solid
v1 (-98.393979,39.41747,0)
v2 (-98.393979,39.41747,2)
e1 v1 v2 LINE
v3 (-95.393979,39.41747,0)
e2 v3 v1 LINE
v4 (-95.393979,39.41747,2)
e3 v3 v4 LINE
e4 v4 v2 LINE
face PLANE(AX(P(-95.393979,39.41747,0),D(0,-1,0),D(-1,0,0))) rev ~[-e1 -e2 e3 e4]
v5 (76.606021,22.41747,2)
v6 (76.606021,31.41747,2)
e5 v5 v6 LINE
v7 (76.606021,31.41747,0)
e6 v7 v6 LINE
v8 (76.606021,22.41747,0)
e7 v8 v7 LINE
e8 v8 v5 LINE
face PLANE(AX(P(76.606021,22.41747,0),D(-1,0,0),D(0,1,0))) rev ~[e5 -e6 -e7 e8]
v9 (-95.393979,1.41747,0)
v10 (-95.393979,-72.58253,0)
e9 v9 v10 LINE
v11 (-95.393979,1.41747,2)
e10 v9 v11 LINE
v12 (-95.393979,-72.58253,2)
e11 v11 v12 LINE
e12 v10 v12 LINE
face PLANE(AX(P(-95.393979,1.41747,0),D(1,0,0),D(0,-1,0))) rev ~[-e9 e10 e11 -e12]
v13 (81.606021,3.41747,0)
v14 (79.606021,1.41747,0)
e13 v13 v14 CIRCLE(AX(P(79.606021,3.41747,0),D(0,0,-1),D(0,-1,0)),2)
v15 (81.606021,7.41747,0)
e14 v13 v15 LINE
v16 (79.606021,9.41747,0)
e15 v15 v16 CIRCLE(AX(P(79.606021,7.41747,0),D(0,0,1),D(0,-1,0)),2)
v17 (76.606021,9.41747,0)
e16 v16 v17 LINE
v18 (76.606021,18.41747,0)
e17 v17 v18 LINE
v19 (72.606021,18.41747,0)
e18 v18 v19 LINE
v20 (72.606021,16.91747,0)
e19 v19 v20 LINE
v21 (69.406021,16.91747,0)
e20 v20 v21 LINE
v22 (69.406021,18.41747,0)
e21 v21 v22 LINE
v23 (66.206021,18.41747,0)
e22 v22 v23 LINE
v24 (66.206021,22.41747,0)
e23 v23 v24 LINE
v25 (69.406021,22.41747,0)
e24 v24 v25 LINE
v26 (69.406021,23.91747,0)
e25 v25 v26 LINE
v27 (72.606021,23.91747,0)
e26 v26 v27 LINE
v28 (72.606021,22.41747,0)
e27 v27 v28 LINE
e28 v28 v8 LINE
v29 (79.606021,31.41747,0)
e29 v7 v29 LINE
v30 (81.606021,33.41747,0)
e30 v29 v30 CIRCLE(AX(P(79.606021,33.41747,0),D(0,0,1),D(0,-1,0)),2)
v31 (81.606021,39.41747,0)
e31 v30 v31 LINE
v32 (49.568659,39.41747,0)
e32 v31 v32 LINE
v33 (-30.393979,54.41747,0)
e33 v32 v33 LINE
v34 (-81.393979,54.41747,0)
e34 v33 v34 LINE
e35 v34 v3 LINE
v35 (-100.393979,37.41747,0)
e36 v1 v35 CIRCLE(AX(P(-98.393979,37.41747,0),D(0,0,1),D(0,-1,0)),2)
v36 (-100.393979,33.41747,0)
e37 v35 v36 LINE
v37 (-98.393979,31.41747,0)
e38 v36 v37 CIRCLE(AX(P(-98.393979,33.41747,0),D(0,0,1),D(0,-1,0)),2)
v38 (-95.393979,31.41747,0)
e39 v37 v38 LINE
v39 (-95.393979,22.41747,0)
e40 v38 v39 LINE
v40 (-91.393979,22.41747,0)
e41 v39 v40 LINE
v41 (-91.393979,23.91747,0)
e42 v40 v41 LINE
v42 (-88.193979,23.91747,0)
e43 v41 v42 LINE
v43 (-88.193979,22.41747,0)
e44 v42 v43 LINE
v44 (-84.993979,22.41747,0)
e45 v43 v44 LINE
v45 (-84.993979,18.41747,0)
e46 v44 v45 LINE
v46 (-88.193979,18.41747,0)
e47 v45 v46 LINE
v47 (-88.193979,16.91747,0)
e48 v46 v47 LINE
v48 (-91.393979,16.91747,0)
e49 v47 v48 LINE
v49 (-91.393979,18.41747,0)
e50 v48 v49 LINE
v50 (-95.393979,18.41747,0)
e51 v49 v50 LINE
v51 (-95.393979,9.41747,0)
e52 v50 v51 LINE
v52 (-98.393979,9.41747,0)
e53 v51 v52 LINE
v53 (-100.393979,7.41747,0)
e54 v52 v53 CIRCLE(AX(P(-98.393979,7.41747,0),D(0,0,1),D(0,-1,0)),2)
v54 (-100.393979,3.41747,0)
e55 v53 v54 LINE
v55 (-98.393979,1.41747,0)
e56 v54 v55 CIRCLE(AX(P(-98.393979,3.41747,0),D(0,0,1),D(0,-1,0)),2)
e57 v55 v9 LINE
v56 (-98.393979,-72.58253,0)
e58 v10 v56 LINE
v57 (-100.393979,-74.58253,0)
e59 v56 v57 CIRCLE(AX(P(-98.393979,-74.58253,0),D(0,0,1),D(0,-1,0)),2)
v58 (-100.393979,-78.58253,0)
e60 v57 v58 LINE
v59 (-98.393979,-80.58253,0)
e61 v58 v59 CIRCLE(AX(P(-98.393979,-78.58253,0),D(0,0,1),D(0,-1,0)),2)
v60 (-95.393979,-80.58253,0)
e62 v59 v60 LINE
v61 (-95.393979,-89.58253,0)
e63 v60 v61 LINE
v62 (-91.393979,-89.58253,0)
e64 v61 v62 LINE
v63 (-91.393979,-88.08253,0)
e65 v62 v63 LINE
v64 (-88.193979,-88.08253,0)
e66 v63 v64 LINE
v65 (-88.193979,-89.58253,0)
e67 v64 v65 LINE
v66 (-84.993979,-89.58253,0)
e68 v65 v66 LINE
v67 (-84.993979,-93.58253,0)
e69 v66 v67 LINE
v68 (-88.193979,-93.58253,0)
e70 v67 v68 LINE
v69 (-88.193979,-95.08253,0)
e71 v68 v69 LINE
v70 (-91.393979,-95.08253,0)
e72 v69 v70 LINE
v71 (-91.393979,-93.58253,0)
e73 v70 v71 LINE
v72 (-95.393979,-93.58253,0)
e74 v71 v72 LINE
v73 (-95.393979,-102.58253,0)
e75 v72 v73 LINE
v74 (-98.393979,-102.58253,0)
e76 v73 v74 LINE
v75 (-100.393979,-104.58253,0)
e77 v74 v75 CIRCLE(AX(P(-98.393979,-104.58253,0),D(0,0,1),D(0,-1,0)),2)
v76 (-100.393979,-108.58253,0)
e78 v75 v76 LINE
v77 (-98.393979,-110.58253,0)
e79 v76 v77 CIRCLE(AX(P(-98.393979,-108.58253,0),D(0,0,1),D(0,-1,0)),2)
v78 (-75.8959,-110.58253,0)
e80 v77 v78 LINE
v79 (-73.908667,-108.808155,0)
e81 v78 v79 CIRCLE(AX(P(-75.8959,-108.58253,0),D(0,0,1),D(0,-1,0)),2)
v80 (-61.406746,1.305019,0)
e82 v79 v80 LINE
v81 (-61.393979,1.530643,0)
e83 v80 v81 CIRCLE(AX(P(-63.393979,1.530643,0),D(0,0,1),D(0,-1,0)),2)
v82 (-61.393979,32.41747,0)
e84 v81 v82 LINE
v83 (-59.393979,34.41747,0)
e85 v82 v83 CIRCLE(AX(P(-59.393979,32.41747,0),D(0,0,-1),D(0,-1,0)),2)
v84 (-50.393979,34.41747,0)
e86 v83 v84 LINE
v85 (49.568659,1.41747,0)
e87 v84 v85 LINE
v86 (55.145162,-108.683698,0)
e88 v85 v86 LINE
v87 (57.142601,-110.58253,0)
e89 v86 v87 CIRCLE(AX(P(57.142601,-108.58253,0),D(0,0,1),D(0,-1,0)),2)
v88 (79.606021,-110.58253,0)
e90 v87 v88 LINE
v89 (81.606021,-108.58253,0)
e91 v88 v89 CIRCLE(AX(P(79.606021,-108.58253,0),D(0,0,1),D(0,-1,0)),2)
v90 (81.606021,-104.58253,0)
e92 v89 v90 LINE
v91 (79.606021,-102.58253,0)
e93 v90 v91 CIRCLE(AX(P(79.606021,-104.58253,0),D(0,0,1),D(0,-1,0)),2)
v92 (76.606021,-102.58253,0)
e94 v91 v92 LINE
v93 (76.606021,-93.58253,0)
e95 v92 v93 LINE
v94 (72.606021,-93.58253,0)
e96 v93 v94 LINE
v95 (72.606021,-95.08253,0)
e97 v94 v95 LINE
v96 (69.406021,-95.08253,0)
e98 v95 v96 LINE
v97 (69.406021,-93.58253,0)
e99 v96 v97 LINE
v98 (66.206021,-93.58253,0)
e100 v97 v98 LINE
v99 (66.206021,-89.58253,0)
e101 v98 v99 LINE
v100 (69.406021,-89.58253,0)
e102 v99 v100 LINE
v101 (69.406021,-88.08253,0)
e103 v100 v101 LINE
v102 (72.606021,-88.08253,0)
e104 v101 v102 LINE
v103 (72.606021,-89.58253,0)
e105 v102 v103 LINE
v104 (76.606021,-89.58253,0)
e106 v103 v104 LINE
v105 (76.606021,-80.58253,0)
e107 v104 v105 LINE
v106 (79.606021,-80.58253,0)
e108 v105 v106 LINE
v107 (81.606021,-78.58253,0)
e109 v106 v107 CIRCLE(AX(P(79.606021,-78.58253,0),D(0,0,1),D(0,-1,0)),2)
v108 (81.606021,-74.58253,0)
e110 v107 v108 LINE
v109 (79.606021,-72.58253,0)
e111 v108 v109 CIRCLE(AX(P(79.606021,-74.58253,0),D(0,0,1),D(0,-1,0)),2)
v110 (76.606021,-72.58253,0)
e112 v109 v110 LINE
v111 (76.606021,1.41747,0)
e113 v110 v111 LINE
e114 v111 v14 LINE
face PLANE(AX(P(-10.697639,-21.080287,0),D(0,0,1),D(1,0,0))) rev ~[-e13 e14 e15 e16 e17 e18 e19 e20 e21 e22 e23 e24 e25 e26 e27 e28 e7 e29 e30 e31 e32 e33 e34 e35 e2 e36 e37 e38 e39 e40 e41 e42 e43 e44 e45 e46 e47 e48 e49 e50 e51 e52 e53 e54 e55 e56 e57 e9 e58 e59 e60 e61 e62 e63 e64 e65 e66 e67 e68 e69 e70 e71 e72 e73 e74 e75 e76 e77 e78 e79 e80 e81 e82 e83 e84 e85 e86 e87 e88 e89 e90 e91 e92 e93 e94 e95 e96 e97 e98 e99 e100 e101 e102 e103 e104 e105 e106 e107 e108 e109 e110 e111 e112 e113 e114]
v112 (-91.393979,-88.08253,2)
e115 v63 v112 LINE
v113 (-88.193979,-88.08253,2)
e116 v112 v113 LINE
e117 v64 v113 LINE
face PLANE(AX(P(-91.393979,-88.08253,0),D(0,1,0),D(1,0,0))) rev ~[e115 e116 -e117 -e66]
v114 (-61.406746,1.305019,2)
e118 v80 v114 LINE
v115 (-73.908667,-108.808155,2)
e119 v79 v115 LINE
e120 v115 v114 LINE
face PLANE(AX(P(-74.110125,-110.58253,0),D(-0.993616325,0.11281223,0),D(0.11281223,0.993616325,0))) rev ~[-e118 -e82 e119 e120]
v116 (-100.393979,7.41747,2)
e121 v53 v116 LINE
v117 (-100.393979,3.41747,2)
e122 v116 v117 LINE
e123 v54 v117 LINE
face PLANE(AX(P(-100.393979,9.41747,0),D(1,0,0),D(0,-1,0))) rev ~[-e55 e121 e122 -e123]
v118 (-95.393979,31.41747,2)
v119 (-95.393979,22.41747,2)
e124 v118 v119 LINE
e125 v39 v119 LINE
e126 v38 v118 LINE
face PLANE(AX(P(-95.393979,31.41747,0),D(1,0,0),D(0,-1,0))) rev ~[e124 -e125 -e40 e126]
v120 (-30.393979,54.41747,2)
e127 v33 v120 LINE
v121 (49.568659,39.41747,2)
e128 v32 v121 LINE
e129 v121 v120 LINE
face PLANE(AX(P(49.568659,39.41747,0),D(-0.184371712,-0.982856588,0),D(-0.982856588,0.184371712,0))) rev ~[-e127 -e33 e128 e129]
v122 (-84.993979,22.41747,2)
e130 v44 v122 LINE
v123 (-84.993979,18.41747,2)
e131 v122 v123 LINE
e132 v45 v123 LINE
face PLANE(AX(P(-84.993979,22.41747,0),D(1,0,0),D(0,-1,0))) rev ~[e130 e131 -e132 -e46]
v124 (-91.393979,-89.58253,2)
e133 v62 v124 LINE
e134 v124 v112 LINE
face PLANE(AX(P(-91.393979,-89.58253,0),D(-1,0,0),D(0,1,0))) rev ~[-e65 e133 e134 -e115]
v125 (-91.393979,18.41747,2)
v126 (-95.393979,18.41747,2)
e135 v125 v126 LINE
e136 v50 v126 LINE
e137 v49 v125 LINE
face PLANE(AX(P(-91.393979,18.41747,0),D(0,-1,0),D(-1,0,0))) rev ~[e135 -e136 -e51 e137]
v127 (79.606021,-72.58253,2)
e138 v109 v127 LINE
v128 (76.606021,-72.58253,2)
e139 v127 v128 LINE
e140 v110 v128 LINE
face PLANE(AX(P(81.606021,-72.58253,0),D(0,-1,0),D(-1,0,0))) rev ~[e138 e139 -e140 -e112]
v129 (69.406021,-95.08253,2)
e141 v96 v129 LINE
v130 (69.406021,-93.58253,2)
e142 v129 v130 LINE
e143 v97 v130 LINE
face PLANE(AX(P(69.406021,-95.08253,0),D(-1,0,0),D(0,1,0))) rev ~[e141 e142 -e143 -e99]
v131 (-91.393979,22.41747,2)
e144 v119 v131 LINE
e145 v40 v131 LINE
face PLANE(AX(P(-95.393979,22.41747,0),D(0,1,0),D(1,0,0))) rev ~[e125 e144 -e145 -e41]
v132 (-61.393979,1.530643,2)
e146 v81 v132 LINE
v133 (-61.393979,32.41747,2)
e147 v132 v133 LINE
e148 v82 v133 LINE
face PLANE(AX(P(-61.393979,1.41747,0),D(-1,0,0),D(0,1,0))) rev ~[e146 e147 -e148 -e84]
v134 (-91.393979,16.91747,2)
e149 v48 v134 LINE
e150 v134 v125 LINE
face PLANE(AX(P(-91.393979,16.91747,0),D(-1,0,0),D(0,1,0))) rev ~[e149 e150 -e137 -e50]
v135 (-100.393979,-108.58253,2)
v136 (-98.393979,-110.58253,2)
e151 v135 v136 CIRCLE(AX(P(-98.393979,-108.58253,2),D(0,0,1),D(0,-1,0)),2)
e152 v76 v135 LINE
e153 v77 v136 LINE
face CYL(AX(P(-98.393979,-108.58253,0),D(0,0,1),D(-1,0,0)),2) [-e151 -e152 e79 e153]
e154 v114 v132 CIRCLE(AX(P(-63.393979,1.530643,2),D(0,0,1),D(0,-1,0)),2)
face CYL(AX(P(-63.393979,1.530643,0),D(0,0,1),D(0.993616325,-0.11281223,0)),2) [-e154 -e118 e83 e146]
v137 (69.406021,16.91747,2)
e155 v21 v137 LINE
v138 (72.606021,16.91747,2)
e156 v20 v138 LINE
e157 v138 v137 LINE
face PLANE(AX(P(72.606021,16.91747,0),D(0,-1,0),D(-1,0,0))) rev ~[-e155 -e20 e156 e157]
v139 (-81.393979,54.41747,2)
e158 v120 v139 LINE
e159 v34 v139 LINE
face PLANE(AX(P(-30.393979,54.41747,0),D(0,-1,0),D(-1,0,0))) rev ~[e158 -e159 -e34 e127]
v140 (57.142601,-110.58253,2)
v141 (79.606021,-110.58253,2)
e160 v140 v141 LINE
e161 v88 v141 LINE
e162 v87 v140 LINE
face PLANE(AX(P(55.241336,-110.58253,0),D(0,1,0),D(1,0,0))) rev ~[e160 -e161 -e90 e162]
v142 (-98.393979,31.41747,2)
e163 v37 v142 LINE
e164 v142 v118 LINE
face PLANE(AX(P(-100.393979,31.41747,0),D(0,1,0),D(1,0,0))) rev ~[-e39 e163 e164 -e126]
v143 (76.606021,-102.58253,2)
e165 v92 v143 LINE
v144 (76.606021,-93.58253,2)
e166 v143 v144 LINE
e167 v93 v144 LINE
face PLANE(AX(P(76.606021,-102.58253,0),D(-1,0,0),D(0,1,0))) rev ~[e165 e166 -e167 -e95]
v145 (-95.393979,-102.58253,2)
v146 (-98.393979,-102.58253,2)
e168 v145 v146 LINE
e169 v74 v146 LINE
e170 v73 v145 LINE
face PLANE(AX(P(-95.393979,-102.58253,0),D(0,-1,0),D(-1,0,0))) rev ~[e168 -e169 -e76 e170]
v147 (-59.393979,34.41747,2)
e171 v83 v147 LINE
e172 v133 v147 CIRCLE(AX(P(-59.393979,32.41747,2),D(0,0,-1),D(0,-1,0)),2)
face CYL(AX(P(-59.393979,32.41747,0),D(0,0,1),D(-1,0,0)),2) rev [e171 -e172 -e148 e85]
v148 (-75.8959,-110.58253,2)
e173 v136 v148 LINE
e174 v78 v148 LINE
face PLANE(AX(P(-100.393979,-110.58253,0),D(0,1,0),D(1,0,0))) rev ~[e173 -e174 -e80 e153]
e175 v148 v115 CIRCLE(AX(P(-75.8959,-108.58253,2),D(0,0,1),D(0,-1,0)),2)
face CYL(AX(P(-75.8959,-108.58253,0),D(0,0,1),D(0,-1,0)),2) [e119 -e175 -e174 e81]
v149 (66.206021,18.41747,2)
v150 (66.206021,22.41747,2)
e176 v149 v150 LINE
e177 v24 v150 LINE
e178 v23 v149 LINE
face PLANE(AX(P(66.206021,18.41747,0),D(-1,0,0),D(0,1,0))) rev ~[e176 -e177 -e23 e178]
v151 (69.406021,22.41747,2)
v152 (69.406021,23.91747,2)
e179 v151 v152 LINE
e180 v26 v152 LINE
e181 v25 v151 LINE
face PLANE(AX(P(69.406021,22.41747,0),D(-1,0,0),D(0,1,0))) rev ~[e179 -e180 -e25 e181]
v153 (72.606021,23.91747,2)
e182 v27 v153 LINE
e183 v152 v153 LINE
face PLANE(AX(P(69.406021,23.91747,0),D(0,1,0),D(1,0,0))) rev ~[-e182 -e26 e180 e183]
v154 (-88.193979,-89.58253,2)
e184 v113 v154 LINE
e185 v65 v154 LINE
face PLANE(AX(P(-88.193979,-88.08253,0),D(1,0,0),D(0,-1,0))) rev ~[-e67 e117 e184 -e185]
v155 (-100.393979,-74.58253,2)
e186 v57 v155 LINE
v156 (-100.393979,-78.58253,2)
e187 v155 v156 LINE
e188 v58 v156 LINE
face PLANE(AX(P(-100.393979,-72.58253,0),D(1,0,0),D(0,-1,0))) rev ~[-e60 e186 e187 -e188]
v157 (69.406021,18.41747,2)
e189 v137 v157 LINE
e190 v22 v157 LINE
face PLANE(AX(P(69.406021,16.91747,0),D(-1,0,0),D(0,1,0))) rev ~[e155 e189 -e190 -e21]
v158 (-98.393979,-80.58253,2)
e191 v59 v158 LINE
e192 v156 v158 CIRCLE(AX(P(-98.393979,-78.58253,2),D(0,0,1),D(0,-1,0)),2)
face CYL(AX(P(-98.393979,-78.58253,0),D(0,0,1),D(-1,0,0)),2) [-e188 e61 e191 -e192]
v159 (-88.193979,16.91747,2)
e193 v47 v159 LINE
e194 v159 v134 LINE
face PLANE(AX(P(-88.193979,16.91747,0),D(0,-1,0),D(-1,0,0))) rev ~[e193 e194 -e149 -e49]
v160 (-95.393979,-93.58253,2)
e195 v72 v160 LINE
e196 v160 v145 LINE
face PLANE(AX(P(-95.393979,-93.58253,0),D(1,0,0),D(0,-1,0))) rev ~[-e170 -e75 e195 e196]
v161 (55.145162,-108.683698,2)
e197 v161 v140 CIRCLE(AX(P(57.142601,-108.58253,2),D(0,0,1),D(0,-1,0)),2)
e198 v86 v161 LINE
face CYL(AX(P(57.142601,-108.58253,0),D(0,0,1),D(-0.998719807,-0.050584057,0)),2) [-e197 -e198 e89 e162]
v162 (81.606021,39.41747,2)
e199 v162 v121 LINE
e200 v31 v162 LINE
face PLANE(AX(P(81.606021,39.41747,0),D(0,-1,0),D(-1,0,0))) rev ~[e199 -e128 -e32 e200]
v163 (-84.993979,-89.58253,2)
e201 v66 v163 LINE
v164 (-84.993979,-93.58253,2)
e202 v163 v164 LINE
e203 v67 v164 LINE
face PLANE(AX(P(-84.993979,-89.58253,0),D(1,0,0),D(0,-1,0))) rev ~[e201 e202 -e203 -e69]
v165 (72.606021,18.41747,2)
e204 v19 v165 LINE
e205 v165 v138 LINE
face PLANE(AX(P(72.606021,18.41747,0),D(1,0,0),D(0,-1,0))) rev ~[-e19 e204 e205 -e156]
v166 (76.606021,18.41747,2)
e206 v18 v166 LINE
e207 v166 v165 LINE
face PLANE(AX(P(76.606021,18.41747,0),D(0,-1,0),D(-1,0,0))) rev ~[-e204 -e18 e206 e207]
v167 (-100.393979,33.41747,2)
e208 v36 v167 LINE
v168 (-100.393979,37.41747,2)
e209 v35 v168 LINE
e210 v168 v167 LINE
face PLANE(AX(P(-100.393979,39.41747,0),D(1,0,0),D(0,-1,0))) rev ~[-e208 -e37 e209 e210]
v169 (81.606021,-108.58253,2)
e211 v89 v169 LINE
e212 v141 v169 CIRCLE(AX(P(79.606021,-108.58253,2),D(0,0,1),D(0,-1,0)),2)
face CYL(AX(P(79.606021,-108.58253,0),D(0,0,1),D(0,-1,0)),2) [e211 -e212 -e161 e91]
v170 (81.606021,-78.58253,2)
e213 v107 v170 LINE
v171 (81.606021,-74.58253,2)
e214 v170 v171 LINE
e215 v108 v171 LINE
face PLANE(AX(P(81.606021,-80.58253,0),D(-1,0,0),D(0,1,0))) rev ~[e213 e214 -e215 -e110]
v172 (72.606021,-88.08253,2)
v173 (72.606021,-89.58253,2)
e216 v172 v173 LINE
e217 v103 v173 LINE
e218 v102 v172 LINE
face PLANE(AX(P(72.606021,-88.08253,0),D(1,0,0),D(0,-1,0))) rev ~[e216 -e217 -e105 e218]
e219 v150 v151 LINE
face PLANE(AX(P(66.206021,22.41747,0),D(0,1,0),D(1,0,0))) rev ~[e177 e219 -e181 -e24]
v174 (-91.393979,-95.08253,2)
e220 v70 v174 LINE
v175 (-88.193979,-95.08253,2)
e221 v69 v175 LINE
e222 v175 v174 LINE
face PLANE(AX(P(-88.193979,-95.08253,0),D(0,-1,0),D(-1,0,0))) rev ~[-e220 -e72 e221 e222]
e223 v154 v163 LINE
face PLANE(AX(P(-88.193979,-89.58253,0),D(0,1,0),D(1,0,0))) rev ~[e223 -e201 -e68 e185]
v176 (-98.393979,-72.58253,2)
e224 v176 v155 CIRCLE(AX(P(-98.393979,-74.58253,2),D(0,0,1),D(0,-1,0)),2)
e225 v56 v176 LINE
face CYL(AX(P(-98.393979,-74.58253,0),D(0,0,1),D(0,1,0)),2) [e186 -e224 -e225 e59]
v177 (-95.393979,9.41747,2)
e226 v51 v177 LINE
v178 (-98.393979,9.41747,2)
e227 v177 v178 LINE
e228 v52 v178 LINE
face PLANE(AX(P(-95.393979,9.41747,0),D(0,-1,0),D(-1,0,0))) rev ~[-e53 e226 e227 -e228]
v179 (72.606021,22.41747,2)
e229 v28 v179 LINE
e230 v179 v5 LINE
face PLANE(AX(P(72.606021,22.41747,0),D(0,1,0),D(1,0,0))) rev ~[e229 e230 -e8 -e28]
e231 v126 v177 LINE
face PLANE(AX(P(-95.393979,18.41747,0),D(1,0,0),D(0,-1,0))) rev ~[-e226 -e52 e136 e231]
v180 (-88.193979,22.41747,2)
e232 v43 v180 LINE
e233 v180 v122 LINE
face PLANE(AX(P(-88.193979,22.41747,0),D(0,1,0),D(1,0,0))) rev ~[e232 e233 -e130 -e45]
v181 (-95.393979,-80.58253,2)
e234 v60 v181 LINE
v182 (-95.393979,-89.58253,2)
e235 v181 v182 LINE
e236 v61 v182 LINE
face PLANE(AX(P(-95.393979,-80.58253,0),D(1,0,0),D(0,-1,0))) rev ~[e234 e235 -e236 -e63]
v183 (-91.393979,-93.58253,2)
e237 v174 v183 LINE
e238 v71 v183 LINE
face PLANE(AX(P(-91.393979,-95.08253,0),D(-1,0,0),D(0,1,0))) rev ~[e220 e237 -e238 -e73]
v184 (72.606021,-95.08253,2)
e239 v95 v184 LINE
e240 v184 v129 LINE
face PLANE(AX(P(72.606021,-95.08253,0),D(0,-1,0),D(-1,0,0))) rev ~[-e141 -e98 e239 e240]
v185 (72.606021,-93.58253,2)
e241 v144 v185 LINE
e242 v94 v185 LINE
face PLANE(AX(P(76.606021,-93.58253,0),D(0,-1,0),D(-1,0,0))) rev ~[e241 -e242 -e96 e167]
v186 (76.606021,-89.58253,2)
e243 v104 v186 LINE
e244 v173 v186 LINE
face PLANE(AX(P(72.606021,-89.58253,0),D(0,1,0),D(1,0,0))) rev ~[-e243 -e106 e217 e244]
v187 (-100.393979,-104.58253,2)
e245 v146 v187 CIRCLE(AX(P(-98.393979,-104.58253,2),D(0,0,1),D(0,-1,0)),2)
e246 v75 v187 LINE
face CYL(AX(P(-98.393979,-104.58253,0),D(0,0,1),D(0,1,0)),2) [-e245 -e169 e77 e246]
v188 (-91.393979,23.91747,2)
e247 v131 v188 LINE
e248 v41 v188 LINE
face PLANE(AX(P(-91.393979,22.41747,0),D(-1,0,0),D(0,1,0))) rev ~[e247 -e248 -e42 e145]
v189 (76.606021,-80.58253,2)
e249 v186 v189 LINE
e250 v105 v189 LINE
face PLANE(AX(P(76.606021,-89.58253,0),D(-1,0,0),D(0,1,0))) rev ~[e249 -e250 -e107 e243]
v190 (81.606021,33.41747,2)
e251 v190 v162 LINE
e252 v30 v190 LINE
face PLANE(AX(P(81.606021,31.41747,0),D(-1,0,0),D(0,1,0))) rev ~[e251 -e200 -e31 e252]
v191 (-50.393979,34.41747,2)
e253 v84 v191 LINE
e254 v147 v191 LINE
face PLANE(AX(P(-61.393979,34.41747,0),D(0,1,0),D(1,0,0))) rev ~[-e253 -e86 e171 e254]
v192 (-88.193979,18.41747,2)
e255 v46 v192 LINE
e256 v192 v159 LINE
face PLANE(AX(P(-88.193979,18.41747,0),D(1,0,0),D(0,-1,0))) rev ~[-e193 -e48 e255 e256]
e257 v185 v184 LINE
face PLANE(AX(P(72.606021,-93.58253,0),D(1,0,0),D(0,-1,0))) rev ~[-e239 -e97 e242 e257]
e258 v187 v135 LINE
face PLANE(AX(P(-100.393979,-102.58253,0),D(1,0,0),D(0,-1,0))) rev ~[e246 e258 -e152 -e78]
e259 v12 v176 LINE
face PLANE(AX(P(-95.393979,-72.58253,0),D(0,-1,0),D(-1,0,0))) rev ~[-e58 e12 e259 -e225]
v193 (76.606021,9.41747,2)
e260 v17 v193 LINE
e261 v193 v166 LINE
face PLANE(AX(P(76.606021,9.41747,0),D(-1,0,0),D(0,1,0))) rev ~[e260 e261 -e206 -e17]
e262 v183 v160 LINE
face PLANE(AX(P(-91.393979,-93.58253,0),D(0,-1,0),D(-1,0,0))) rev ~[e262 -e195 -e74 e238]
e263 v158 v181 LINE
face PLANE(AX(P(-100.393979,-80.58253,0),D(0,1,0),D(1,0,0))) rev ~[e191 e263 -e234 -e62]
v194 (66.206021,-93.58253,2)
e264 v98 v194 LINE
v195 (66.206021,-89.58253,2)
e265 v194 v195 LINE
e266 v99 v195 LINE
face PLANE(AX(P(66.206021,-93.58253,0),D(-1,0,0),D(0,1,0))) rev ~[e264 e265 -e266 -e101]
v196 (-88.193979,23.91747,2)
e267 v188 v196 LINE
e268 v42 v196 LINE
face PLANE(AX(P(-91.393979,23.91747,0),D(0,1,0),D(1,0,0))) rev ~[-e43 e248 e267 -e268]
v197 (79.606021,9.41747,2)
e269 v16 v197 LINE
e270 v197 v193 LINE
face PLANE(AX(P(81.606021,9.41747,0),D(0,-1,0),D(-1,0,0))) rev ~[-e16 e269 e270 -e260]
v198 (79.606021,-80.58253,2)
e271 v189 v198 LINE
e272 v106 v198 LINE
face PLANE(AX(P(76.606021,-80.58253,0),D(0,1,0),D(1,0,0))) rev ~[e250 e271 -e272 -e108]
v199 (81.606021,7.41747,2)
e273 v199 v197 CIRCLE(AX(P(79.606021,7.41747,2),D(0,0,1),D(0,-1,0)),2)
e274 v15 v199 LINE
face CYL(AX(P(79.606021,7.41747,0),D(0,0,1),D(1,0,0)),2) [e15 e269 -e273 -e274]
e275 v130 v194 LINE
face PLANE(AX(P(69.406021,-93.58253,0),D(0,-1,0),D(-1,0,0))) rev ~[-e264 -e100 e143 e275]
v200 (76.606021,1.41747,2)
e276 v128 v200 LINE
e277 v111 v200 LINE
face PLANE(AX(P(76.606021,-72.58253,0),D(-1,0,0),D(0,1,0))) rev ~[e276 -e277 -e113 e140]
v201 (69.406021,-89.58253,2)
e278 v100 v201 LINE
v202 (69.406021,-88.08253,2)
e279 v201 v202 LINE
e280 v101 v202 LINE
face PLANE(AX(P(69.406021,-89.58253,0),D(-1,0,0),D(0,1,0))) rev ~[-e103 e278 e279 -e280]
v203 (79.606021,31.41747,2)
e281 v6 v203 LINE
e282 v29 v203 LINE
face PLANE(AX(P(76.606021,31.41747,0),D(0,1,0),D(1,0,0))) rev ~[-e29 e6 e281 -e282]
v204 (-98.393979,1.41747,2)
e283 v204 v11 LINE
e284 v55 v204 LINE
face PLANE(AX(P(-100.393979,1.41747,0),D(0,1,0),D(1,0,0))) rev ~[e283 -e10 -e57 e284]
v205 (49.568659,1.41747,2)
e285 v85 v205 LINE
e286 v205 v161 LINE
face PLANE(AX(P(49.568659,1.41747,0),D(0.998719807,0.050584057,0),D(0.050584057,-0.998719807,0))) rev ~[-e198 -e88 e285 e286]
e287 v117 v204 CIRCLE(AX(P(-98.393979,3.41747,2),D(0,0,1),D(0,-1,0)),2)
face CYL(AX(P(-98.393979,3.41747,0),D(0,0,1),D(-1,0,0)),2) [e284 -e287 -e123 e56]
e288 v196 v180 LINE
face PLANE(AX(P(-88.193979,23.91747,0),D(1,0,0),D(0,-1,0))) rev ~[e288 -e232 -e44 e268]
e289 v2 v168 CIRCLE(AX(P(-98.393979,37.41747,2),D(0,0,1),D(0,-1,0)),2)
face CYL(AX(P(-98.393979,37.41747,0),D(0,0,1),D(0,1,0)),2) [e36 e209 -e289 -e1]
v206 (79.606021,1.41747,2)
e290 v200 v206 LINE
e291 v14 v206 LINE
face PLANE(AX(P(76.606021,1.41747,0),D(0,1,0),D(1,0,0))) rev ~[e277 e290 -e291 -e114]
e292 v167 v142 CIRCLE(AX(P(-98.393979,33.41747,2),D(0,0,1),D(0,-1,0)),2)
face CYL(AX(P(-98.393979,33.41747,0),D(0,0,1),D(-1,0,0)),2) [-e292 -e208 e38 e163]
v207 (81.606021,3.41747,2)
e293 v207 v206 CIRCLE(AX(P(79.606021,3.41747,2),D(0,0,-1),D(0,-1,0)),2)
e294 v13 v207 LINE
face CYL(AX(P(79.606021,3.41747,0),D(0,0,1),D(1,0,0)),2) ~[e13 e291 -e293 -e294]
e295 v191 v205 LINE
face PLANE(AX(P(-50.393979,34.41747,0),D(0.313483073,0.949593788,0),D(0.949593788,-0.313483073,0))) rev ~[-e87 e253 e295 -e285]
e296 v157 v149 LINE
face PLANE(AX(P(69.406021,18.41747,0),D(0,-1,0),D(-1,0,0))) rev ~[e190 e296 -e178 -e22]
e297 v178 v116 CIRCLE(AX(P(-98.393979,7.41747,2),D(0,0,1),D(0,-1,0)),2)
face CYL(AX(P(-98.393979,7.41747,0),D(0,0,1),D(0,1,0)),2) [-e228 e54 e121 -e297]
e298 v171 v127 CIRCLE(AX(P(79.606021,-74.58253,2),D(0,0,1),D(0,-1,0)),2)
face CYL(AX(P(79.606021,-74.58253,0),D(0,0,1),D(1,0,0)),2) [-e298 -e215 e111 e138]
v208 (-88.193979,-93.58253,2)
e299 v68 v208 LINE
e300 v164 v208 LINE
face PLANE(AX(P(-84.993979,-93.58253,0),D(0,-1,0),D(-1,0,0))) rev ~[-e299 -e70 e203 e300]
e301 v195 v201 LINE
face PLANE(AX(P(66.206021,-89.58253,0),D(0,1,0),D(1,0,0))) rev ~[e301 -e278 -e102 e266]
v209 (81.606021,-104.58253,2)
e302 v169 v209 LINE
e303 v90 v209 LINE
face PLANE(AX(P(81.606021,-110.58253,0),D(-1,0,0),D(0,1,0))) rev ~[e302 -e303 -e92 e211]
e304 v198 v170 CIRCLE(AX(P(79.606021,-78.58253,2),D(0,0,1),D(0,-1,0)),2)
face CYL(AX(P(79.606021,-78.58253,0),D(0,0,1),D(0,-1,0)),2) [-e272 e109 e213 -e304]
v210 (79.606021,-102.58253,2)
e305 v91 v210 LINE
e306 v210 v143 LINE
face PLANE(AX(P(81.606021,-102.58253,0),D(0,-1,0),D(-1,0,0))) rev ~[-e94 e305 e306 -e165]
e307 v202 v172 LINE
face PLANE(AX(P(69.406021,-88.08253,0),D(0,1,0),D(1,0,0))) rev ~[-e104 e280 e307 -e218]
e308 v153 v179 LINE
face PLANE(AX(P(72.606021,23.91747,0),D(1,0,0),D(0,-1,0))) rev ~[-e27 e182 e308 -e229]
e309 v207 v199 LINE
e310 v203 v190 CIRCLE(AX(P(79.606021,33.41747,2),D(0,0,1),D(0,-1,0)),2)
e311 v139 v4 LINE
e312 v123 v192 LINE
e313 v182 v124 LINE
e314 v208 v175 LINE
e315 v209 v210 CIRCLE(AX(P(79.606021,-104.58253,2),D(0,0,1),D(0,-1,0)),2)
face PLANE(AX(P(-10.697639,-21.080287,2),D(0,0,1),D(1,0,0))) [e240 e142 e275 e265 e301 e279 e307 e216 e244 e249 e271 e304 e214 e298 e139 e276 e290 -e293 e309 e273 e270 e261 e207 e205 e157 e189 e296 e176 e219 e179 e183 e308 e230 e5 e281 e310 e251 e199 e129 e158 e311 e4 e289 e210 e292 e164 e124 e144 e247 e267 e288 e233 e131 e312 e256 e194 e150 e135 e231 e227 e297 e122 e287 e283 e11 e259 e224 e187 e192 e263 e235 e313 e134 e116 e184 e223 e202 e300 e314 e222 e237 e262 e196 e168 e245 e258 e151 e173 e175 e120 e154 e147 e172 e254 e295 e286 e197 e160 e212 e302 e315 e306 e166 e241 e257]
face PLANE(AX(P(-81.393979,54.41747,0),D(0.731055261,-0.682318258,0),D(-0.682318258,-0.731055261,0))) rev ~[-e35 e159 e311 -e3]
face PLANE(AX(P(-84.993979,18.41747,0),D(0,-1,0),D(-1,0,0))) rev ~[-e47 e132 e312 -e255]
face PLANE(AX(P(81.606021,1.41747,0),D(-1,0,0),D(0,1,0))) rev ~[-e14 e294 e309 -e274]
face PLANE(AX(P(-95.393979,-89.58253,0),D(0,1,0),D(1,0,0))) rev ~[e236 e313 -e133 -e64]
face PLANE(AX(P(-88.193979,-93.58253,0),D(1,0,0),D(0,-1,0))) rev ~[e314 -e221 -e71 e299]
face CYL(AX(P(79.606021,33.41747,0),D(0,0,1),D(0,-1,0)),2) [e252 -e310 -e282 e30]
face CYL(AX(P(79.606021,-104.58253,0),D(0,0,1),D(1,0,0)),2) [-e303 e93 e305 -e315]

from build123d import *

# Parameters (mm, degrees)
EXTRUDE_1_DEPTH = 2
FILLET_1_R      = 2


with BuildPart() as part:
    # 草图1 → 凸台-拉伸1 (new body)
    with BuildSketch(Plane.XY):
        Polygon((81.606020908, 1.417469639), (81.606020908, 9.417469639), (76.606020908, 9.417469639), (76.606020908, 18.417469797), (72.606020908, 18.417469797), (72.606020908, 16.917469797), (69.406020908, 16.917469797), (69.406020908, 18.417469797), (66.206020908, 18.417469797), (66.206020908, 22.417469797), (69.406020908, 22.417469797), (69.406020908, 23.917469797), (72.606020908, 23.917469797), (72.606020908, 22.417469797), (76.606020908, 22.417469797), (76.606020908, 31.417469956), (81.606020908, 31.417469956), (81.606020908, 39.417469956), (76.606020908, 39.417469956), (49.568659109, 39.417469956), (-30.393979092, 54.417469639), (-81.393979092, 54.417469639), (-95.393979092, 39.417469956), (-100.393979092, 39.417469956), (-100.393979092, 31.417469956), (-95.393979092, 31.417469956), (-95.393979092, 22.417469797), (-91.393979092, 22.417469797), (-91.393979092, 23.917469797), (-88.193979092, 23.917469797), (-88.193979092, 22.417469797), (-84.993979092, 22.417469797), (-84.993979092, 18.417469797), (-88.193979092, 18.417469797), (-88.193979092, 16.917469797), (-91.393979092, 16.917469797), (-91.393979092, 18.417469797), (-95.393979092, 18.417469797), (-95.393979092, 9.417469639), (-100.393979092, 9.417469639), (-100.393979092, 1.417469639), (-95.393979092, 1.417469639), (-95.393979092, -72.582530044), (-100.393979092, -72.582530044), (-100.393979092, -80.582530044), (-95.393979092, -80.582530044), (-95.393979092, -89.582530203), (-91.393979092, -89.582530203), (-91.393979092, -88.082530203), (-88.193979092, -88.082530203), (-88.193979092, -89.582530203), (-84.993979092, -89.582530203), (-84.993979092, -93.582530203), (-88.193979092, -93.582530203), (-88.193979092, -95.082530203), (-91.393979092, -95.082530203), (-91.393979092, -93.582530203), (-95.393979092, -93.582530203), (-95.393979092, -102.582530361), (-100.393979092, -102.582530361), (-100.393979092, -110.582530361), (-95.393979092, -110.582530361), (-74.110124615, -110.582530361), (-61.393979092, 1.417469639), (-61.393979092, 34.417469639), (-50.393979092, 34.417469639), (49.568659109, 1.417469639), (55.241335591, -110.582530361), (76.606020908, -110.582530361), (81.606020908, -110.582530361), (81.606020908, -102.582530361), (76.606020908, -102.582530361), (76.606020908, -93.582530203), (72.606020908, -93.582530203), (72.606020908, -95.082530203), (69.406020908, -95.082530203), (69.406020908, -93.582530203), (66.206020908, -93.582530203), (66.206020908, -89.582530203), (69.406020908, -89.582530203), (69.406020908, -88.082530203), (72.606020908, -88.082530203), (72.606020908, -89.582530203), (76.606020908, -89.582530203), (76.606020908, -80.582530044), (81.606020908, -80.582530044), (81.606020908, -72.582530044), (76.606020908, -72.582530044), (76.606020908, 1.417469639), align=None)
    extrude(amount=EXTRUDE_1_DEPTH)

    # 圆角1
    fillet_1_edges = [part.edges().sort_by_distance(p)[0] for p in [
        (81.606020908, -102.582530361, 1),
        (81.606020908, -110.582530361, 1),
        (55.241335591, -110.582530361, 1),
        (-61.393979092, 34.417469639, 1),
        (-61.393979092, 1.417469639, 1),
        (-74.110124615, -110.582530361, 1),
        (-100.393979092, -110.582530361, 1),
        (-100.393979092, -102.582530361, 1),
        (-100.393979092, -80.582530044, 1),
        (-100.393979092, -72.582530044, 1),
        (-100.393979092, 1.417469639, 1),
        (-100.393979092, 9.417469639, 1),
        (-100.393979092, 31.417469956, 1),
        (-100.393979092, 39.417469956, 1),
        (81.606020908, 31.417469956, 1),
        (81.606020908, 9.417469639, 1),
        (81.606020908, 1.417469639, 1),
        (81.606020908, -72.582530044, 1),
        (81.606020908, -80.582530044, 1),
    ]]
    fillet(fillet_1_edges, radius=FILLET_1_R)


solid = part.part
